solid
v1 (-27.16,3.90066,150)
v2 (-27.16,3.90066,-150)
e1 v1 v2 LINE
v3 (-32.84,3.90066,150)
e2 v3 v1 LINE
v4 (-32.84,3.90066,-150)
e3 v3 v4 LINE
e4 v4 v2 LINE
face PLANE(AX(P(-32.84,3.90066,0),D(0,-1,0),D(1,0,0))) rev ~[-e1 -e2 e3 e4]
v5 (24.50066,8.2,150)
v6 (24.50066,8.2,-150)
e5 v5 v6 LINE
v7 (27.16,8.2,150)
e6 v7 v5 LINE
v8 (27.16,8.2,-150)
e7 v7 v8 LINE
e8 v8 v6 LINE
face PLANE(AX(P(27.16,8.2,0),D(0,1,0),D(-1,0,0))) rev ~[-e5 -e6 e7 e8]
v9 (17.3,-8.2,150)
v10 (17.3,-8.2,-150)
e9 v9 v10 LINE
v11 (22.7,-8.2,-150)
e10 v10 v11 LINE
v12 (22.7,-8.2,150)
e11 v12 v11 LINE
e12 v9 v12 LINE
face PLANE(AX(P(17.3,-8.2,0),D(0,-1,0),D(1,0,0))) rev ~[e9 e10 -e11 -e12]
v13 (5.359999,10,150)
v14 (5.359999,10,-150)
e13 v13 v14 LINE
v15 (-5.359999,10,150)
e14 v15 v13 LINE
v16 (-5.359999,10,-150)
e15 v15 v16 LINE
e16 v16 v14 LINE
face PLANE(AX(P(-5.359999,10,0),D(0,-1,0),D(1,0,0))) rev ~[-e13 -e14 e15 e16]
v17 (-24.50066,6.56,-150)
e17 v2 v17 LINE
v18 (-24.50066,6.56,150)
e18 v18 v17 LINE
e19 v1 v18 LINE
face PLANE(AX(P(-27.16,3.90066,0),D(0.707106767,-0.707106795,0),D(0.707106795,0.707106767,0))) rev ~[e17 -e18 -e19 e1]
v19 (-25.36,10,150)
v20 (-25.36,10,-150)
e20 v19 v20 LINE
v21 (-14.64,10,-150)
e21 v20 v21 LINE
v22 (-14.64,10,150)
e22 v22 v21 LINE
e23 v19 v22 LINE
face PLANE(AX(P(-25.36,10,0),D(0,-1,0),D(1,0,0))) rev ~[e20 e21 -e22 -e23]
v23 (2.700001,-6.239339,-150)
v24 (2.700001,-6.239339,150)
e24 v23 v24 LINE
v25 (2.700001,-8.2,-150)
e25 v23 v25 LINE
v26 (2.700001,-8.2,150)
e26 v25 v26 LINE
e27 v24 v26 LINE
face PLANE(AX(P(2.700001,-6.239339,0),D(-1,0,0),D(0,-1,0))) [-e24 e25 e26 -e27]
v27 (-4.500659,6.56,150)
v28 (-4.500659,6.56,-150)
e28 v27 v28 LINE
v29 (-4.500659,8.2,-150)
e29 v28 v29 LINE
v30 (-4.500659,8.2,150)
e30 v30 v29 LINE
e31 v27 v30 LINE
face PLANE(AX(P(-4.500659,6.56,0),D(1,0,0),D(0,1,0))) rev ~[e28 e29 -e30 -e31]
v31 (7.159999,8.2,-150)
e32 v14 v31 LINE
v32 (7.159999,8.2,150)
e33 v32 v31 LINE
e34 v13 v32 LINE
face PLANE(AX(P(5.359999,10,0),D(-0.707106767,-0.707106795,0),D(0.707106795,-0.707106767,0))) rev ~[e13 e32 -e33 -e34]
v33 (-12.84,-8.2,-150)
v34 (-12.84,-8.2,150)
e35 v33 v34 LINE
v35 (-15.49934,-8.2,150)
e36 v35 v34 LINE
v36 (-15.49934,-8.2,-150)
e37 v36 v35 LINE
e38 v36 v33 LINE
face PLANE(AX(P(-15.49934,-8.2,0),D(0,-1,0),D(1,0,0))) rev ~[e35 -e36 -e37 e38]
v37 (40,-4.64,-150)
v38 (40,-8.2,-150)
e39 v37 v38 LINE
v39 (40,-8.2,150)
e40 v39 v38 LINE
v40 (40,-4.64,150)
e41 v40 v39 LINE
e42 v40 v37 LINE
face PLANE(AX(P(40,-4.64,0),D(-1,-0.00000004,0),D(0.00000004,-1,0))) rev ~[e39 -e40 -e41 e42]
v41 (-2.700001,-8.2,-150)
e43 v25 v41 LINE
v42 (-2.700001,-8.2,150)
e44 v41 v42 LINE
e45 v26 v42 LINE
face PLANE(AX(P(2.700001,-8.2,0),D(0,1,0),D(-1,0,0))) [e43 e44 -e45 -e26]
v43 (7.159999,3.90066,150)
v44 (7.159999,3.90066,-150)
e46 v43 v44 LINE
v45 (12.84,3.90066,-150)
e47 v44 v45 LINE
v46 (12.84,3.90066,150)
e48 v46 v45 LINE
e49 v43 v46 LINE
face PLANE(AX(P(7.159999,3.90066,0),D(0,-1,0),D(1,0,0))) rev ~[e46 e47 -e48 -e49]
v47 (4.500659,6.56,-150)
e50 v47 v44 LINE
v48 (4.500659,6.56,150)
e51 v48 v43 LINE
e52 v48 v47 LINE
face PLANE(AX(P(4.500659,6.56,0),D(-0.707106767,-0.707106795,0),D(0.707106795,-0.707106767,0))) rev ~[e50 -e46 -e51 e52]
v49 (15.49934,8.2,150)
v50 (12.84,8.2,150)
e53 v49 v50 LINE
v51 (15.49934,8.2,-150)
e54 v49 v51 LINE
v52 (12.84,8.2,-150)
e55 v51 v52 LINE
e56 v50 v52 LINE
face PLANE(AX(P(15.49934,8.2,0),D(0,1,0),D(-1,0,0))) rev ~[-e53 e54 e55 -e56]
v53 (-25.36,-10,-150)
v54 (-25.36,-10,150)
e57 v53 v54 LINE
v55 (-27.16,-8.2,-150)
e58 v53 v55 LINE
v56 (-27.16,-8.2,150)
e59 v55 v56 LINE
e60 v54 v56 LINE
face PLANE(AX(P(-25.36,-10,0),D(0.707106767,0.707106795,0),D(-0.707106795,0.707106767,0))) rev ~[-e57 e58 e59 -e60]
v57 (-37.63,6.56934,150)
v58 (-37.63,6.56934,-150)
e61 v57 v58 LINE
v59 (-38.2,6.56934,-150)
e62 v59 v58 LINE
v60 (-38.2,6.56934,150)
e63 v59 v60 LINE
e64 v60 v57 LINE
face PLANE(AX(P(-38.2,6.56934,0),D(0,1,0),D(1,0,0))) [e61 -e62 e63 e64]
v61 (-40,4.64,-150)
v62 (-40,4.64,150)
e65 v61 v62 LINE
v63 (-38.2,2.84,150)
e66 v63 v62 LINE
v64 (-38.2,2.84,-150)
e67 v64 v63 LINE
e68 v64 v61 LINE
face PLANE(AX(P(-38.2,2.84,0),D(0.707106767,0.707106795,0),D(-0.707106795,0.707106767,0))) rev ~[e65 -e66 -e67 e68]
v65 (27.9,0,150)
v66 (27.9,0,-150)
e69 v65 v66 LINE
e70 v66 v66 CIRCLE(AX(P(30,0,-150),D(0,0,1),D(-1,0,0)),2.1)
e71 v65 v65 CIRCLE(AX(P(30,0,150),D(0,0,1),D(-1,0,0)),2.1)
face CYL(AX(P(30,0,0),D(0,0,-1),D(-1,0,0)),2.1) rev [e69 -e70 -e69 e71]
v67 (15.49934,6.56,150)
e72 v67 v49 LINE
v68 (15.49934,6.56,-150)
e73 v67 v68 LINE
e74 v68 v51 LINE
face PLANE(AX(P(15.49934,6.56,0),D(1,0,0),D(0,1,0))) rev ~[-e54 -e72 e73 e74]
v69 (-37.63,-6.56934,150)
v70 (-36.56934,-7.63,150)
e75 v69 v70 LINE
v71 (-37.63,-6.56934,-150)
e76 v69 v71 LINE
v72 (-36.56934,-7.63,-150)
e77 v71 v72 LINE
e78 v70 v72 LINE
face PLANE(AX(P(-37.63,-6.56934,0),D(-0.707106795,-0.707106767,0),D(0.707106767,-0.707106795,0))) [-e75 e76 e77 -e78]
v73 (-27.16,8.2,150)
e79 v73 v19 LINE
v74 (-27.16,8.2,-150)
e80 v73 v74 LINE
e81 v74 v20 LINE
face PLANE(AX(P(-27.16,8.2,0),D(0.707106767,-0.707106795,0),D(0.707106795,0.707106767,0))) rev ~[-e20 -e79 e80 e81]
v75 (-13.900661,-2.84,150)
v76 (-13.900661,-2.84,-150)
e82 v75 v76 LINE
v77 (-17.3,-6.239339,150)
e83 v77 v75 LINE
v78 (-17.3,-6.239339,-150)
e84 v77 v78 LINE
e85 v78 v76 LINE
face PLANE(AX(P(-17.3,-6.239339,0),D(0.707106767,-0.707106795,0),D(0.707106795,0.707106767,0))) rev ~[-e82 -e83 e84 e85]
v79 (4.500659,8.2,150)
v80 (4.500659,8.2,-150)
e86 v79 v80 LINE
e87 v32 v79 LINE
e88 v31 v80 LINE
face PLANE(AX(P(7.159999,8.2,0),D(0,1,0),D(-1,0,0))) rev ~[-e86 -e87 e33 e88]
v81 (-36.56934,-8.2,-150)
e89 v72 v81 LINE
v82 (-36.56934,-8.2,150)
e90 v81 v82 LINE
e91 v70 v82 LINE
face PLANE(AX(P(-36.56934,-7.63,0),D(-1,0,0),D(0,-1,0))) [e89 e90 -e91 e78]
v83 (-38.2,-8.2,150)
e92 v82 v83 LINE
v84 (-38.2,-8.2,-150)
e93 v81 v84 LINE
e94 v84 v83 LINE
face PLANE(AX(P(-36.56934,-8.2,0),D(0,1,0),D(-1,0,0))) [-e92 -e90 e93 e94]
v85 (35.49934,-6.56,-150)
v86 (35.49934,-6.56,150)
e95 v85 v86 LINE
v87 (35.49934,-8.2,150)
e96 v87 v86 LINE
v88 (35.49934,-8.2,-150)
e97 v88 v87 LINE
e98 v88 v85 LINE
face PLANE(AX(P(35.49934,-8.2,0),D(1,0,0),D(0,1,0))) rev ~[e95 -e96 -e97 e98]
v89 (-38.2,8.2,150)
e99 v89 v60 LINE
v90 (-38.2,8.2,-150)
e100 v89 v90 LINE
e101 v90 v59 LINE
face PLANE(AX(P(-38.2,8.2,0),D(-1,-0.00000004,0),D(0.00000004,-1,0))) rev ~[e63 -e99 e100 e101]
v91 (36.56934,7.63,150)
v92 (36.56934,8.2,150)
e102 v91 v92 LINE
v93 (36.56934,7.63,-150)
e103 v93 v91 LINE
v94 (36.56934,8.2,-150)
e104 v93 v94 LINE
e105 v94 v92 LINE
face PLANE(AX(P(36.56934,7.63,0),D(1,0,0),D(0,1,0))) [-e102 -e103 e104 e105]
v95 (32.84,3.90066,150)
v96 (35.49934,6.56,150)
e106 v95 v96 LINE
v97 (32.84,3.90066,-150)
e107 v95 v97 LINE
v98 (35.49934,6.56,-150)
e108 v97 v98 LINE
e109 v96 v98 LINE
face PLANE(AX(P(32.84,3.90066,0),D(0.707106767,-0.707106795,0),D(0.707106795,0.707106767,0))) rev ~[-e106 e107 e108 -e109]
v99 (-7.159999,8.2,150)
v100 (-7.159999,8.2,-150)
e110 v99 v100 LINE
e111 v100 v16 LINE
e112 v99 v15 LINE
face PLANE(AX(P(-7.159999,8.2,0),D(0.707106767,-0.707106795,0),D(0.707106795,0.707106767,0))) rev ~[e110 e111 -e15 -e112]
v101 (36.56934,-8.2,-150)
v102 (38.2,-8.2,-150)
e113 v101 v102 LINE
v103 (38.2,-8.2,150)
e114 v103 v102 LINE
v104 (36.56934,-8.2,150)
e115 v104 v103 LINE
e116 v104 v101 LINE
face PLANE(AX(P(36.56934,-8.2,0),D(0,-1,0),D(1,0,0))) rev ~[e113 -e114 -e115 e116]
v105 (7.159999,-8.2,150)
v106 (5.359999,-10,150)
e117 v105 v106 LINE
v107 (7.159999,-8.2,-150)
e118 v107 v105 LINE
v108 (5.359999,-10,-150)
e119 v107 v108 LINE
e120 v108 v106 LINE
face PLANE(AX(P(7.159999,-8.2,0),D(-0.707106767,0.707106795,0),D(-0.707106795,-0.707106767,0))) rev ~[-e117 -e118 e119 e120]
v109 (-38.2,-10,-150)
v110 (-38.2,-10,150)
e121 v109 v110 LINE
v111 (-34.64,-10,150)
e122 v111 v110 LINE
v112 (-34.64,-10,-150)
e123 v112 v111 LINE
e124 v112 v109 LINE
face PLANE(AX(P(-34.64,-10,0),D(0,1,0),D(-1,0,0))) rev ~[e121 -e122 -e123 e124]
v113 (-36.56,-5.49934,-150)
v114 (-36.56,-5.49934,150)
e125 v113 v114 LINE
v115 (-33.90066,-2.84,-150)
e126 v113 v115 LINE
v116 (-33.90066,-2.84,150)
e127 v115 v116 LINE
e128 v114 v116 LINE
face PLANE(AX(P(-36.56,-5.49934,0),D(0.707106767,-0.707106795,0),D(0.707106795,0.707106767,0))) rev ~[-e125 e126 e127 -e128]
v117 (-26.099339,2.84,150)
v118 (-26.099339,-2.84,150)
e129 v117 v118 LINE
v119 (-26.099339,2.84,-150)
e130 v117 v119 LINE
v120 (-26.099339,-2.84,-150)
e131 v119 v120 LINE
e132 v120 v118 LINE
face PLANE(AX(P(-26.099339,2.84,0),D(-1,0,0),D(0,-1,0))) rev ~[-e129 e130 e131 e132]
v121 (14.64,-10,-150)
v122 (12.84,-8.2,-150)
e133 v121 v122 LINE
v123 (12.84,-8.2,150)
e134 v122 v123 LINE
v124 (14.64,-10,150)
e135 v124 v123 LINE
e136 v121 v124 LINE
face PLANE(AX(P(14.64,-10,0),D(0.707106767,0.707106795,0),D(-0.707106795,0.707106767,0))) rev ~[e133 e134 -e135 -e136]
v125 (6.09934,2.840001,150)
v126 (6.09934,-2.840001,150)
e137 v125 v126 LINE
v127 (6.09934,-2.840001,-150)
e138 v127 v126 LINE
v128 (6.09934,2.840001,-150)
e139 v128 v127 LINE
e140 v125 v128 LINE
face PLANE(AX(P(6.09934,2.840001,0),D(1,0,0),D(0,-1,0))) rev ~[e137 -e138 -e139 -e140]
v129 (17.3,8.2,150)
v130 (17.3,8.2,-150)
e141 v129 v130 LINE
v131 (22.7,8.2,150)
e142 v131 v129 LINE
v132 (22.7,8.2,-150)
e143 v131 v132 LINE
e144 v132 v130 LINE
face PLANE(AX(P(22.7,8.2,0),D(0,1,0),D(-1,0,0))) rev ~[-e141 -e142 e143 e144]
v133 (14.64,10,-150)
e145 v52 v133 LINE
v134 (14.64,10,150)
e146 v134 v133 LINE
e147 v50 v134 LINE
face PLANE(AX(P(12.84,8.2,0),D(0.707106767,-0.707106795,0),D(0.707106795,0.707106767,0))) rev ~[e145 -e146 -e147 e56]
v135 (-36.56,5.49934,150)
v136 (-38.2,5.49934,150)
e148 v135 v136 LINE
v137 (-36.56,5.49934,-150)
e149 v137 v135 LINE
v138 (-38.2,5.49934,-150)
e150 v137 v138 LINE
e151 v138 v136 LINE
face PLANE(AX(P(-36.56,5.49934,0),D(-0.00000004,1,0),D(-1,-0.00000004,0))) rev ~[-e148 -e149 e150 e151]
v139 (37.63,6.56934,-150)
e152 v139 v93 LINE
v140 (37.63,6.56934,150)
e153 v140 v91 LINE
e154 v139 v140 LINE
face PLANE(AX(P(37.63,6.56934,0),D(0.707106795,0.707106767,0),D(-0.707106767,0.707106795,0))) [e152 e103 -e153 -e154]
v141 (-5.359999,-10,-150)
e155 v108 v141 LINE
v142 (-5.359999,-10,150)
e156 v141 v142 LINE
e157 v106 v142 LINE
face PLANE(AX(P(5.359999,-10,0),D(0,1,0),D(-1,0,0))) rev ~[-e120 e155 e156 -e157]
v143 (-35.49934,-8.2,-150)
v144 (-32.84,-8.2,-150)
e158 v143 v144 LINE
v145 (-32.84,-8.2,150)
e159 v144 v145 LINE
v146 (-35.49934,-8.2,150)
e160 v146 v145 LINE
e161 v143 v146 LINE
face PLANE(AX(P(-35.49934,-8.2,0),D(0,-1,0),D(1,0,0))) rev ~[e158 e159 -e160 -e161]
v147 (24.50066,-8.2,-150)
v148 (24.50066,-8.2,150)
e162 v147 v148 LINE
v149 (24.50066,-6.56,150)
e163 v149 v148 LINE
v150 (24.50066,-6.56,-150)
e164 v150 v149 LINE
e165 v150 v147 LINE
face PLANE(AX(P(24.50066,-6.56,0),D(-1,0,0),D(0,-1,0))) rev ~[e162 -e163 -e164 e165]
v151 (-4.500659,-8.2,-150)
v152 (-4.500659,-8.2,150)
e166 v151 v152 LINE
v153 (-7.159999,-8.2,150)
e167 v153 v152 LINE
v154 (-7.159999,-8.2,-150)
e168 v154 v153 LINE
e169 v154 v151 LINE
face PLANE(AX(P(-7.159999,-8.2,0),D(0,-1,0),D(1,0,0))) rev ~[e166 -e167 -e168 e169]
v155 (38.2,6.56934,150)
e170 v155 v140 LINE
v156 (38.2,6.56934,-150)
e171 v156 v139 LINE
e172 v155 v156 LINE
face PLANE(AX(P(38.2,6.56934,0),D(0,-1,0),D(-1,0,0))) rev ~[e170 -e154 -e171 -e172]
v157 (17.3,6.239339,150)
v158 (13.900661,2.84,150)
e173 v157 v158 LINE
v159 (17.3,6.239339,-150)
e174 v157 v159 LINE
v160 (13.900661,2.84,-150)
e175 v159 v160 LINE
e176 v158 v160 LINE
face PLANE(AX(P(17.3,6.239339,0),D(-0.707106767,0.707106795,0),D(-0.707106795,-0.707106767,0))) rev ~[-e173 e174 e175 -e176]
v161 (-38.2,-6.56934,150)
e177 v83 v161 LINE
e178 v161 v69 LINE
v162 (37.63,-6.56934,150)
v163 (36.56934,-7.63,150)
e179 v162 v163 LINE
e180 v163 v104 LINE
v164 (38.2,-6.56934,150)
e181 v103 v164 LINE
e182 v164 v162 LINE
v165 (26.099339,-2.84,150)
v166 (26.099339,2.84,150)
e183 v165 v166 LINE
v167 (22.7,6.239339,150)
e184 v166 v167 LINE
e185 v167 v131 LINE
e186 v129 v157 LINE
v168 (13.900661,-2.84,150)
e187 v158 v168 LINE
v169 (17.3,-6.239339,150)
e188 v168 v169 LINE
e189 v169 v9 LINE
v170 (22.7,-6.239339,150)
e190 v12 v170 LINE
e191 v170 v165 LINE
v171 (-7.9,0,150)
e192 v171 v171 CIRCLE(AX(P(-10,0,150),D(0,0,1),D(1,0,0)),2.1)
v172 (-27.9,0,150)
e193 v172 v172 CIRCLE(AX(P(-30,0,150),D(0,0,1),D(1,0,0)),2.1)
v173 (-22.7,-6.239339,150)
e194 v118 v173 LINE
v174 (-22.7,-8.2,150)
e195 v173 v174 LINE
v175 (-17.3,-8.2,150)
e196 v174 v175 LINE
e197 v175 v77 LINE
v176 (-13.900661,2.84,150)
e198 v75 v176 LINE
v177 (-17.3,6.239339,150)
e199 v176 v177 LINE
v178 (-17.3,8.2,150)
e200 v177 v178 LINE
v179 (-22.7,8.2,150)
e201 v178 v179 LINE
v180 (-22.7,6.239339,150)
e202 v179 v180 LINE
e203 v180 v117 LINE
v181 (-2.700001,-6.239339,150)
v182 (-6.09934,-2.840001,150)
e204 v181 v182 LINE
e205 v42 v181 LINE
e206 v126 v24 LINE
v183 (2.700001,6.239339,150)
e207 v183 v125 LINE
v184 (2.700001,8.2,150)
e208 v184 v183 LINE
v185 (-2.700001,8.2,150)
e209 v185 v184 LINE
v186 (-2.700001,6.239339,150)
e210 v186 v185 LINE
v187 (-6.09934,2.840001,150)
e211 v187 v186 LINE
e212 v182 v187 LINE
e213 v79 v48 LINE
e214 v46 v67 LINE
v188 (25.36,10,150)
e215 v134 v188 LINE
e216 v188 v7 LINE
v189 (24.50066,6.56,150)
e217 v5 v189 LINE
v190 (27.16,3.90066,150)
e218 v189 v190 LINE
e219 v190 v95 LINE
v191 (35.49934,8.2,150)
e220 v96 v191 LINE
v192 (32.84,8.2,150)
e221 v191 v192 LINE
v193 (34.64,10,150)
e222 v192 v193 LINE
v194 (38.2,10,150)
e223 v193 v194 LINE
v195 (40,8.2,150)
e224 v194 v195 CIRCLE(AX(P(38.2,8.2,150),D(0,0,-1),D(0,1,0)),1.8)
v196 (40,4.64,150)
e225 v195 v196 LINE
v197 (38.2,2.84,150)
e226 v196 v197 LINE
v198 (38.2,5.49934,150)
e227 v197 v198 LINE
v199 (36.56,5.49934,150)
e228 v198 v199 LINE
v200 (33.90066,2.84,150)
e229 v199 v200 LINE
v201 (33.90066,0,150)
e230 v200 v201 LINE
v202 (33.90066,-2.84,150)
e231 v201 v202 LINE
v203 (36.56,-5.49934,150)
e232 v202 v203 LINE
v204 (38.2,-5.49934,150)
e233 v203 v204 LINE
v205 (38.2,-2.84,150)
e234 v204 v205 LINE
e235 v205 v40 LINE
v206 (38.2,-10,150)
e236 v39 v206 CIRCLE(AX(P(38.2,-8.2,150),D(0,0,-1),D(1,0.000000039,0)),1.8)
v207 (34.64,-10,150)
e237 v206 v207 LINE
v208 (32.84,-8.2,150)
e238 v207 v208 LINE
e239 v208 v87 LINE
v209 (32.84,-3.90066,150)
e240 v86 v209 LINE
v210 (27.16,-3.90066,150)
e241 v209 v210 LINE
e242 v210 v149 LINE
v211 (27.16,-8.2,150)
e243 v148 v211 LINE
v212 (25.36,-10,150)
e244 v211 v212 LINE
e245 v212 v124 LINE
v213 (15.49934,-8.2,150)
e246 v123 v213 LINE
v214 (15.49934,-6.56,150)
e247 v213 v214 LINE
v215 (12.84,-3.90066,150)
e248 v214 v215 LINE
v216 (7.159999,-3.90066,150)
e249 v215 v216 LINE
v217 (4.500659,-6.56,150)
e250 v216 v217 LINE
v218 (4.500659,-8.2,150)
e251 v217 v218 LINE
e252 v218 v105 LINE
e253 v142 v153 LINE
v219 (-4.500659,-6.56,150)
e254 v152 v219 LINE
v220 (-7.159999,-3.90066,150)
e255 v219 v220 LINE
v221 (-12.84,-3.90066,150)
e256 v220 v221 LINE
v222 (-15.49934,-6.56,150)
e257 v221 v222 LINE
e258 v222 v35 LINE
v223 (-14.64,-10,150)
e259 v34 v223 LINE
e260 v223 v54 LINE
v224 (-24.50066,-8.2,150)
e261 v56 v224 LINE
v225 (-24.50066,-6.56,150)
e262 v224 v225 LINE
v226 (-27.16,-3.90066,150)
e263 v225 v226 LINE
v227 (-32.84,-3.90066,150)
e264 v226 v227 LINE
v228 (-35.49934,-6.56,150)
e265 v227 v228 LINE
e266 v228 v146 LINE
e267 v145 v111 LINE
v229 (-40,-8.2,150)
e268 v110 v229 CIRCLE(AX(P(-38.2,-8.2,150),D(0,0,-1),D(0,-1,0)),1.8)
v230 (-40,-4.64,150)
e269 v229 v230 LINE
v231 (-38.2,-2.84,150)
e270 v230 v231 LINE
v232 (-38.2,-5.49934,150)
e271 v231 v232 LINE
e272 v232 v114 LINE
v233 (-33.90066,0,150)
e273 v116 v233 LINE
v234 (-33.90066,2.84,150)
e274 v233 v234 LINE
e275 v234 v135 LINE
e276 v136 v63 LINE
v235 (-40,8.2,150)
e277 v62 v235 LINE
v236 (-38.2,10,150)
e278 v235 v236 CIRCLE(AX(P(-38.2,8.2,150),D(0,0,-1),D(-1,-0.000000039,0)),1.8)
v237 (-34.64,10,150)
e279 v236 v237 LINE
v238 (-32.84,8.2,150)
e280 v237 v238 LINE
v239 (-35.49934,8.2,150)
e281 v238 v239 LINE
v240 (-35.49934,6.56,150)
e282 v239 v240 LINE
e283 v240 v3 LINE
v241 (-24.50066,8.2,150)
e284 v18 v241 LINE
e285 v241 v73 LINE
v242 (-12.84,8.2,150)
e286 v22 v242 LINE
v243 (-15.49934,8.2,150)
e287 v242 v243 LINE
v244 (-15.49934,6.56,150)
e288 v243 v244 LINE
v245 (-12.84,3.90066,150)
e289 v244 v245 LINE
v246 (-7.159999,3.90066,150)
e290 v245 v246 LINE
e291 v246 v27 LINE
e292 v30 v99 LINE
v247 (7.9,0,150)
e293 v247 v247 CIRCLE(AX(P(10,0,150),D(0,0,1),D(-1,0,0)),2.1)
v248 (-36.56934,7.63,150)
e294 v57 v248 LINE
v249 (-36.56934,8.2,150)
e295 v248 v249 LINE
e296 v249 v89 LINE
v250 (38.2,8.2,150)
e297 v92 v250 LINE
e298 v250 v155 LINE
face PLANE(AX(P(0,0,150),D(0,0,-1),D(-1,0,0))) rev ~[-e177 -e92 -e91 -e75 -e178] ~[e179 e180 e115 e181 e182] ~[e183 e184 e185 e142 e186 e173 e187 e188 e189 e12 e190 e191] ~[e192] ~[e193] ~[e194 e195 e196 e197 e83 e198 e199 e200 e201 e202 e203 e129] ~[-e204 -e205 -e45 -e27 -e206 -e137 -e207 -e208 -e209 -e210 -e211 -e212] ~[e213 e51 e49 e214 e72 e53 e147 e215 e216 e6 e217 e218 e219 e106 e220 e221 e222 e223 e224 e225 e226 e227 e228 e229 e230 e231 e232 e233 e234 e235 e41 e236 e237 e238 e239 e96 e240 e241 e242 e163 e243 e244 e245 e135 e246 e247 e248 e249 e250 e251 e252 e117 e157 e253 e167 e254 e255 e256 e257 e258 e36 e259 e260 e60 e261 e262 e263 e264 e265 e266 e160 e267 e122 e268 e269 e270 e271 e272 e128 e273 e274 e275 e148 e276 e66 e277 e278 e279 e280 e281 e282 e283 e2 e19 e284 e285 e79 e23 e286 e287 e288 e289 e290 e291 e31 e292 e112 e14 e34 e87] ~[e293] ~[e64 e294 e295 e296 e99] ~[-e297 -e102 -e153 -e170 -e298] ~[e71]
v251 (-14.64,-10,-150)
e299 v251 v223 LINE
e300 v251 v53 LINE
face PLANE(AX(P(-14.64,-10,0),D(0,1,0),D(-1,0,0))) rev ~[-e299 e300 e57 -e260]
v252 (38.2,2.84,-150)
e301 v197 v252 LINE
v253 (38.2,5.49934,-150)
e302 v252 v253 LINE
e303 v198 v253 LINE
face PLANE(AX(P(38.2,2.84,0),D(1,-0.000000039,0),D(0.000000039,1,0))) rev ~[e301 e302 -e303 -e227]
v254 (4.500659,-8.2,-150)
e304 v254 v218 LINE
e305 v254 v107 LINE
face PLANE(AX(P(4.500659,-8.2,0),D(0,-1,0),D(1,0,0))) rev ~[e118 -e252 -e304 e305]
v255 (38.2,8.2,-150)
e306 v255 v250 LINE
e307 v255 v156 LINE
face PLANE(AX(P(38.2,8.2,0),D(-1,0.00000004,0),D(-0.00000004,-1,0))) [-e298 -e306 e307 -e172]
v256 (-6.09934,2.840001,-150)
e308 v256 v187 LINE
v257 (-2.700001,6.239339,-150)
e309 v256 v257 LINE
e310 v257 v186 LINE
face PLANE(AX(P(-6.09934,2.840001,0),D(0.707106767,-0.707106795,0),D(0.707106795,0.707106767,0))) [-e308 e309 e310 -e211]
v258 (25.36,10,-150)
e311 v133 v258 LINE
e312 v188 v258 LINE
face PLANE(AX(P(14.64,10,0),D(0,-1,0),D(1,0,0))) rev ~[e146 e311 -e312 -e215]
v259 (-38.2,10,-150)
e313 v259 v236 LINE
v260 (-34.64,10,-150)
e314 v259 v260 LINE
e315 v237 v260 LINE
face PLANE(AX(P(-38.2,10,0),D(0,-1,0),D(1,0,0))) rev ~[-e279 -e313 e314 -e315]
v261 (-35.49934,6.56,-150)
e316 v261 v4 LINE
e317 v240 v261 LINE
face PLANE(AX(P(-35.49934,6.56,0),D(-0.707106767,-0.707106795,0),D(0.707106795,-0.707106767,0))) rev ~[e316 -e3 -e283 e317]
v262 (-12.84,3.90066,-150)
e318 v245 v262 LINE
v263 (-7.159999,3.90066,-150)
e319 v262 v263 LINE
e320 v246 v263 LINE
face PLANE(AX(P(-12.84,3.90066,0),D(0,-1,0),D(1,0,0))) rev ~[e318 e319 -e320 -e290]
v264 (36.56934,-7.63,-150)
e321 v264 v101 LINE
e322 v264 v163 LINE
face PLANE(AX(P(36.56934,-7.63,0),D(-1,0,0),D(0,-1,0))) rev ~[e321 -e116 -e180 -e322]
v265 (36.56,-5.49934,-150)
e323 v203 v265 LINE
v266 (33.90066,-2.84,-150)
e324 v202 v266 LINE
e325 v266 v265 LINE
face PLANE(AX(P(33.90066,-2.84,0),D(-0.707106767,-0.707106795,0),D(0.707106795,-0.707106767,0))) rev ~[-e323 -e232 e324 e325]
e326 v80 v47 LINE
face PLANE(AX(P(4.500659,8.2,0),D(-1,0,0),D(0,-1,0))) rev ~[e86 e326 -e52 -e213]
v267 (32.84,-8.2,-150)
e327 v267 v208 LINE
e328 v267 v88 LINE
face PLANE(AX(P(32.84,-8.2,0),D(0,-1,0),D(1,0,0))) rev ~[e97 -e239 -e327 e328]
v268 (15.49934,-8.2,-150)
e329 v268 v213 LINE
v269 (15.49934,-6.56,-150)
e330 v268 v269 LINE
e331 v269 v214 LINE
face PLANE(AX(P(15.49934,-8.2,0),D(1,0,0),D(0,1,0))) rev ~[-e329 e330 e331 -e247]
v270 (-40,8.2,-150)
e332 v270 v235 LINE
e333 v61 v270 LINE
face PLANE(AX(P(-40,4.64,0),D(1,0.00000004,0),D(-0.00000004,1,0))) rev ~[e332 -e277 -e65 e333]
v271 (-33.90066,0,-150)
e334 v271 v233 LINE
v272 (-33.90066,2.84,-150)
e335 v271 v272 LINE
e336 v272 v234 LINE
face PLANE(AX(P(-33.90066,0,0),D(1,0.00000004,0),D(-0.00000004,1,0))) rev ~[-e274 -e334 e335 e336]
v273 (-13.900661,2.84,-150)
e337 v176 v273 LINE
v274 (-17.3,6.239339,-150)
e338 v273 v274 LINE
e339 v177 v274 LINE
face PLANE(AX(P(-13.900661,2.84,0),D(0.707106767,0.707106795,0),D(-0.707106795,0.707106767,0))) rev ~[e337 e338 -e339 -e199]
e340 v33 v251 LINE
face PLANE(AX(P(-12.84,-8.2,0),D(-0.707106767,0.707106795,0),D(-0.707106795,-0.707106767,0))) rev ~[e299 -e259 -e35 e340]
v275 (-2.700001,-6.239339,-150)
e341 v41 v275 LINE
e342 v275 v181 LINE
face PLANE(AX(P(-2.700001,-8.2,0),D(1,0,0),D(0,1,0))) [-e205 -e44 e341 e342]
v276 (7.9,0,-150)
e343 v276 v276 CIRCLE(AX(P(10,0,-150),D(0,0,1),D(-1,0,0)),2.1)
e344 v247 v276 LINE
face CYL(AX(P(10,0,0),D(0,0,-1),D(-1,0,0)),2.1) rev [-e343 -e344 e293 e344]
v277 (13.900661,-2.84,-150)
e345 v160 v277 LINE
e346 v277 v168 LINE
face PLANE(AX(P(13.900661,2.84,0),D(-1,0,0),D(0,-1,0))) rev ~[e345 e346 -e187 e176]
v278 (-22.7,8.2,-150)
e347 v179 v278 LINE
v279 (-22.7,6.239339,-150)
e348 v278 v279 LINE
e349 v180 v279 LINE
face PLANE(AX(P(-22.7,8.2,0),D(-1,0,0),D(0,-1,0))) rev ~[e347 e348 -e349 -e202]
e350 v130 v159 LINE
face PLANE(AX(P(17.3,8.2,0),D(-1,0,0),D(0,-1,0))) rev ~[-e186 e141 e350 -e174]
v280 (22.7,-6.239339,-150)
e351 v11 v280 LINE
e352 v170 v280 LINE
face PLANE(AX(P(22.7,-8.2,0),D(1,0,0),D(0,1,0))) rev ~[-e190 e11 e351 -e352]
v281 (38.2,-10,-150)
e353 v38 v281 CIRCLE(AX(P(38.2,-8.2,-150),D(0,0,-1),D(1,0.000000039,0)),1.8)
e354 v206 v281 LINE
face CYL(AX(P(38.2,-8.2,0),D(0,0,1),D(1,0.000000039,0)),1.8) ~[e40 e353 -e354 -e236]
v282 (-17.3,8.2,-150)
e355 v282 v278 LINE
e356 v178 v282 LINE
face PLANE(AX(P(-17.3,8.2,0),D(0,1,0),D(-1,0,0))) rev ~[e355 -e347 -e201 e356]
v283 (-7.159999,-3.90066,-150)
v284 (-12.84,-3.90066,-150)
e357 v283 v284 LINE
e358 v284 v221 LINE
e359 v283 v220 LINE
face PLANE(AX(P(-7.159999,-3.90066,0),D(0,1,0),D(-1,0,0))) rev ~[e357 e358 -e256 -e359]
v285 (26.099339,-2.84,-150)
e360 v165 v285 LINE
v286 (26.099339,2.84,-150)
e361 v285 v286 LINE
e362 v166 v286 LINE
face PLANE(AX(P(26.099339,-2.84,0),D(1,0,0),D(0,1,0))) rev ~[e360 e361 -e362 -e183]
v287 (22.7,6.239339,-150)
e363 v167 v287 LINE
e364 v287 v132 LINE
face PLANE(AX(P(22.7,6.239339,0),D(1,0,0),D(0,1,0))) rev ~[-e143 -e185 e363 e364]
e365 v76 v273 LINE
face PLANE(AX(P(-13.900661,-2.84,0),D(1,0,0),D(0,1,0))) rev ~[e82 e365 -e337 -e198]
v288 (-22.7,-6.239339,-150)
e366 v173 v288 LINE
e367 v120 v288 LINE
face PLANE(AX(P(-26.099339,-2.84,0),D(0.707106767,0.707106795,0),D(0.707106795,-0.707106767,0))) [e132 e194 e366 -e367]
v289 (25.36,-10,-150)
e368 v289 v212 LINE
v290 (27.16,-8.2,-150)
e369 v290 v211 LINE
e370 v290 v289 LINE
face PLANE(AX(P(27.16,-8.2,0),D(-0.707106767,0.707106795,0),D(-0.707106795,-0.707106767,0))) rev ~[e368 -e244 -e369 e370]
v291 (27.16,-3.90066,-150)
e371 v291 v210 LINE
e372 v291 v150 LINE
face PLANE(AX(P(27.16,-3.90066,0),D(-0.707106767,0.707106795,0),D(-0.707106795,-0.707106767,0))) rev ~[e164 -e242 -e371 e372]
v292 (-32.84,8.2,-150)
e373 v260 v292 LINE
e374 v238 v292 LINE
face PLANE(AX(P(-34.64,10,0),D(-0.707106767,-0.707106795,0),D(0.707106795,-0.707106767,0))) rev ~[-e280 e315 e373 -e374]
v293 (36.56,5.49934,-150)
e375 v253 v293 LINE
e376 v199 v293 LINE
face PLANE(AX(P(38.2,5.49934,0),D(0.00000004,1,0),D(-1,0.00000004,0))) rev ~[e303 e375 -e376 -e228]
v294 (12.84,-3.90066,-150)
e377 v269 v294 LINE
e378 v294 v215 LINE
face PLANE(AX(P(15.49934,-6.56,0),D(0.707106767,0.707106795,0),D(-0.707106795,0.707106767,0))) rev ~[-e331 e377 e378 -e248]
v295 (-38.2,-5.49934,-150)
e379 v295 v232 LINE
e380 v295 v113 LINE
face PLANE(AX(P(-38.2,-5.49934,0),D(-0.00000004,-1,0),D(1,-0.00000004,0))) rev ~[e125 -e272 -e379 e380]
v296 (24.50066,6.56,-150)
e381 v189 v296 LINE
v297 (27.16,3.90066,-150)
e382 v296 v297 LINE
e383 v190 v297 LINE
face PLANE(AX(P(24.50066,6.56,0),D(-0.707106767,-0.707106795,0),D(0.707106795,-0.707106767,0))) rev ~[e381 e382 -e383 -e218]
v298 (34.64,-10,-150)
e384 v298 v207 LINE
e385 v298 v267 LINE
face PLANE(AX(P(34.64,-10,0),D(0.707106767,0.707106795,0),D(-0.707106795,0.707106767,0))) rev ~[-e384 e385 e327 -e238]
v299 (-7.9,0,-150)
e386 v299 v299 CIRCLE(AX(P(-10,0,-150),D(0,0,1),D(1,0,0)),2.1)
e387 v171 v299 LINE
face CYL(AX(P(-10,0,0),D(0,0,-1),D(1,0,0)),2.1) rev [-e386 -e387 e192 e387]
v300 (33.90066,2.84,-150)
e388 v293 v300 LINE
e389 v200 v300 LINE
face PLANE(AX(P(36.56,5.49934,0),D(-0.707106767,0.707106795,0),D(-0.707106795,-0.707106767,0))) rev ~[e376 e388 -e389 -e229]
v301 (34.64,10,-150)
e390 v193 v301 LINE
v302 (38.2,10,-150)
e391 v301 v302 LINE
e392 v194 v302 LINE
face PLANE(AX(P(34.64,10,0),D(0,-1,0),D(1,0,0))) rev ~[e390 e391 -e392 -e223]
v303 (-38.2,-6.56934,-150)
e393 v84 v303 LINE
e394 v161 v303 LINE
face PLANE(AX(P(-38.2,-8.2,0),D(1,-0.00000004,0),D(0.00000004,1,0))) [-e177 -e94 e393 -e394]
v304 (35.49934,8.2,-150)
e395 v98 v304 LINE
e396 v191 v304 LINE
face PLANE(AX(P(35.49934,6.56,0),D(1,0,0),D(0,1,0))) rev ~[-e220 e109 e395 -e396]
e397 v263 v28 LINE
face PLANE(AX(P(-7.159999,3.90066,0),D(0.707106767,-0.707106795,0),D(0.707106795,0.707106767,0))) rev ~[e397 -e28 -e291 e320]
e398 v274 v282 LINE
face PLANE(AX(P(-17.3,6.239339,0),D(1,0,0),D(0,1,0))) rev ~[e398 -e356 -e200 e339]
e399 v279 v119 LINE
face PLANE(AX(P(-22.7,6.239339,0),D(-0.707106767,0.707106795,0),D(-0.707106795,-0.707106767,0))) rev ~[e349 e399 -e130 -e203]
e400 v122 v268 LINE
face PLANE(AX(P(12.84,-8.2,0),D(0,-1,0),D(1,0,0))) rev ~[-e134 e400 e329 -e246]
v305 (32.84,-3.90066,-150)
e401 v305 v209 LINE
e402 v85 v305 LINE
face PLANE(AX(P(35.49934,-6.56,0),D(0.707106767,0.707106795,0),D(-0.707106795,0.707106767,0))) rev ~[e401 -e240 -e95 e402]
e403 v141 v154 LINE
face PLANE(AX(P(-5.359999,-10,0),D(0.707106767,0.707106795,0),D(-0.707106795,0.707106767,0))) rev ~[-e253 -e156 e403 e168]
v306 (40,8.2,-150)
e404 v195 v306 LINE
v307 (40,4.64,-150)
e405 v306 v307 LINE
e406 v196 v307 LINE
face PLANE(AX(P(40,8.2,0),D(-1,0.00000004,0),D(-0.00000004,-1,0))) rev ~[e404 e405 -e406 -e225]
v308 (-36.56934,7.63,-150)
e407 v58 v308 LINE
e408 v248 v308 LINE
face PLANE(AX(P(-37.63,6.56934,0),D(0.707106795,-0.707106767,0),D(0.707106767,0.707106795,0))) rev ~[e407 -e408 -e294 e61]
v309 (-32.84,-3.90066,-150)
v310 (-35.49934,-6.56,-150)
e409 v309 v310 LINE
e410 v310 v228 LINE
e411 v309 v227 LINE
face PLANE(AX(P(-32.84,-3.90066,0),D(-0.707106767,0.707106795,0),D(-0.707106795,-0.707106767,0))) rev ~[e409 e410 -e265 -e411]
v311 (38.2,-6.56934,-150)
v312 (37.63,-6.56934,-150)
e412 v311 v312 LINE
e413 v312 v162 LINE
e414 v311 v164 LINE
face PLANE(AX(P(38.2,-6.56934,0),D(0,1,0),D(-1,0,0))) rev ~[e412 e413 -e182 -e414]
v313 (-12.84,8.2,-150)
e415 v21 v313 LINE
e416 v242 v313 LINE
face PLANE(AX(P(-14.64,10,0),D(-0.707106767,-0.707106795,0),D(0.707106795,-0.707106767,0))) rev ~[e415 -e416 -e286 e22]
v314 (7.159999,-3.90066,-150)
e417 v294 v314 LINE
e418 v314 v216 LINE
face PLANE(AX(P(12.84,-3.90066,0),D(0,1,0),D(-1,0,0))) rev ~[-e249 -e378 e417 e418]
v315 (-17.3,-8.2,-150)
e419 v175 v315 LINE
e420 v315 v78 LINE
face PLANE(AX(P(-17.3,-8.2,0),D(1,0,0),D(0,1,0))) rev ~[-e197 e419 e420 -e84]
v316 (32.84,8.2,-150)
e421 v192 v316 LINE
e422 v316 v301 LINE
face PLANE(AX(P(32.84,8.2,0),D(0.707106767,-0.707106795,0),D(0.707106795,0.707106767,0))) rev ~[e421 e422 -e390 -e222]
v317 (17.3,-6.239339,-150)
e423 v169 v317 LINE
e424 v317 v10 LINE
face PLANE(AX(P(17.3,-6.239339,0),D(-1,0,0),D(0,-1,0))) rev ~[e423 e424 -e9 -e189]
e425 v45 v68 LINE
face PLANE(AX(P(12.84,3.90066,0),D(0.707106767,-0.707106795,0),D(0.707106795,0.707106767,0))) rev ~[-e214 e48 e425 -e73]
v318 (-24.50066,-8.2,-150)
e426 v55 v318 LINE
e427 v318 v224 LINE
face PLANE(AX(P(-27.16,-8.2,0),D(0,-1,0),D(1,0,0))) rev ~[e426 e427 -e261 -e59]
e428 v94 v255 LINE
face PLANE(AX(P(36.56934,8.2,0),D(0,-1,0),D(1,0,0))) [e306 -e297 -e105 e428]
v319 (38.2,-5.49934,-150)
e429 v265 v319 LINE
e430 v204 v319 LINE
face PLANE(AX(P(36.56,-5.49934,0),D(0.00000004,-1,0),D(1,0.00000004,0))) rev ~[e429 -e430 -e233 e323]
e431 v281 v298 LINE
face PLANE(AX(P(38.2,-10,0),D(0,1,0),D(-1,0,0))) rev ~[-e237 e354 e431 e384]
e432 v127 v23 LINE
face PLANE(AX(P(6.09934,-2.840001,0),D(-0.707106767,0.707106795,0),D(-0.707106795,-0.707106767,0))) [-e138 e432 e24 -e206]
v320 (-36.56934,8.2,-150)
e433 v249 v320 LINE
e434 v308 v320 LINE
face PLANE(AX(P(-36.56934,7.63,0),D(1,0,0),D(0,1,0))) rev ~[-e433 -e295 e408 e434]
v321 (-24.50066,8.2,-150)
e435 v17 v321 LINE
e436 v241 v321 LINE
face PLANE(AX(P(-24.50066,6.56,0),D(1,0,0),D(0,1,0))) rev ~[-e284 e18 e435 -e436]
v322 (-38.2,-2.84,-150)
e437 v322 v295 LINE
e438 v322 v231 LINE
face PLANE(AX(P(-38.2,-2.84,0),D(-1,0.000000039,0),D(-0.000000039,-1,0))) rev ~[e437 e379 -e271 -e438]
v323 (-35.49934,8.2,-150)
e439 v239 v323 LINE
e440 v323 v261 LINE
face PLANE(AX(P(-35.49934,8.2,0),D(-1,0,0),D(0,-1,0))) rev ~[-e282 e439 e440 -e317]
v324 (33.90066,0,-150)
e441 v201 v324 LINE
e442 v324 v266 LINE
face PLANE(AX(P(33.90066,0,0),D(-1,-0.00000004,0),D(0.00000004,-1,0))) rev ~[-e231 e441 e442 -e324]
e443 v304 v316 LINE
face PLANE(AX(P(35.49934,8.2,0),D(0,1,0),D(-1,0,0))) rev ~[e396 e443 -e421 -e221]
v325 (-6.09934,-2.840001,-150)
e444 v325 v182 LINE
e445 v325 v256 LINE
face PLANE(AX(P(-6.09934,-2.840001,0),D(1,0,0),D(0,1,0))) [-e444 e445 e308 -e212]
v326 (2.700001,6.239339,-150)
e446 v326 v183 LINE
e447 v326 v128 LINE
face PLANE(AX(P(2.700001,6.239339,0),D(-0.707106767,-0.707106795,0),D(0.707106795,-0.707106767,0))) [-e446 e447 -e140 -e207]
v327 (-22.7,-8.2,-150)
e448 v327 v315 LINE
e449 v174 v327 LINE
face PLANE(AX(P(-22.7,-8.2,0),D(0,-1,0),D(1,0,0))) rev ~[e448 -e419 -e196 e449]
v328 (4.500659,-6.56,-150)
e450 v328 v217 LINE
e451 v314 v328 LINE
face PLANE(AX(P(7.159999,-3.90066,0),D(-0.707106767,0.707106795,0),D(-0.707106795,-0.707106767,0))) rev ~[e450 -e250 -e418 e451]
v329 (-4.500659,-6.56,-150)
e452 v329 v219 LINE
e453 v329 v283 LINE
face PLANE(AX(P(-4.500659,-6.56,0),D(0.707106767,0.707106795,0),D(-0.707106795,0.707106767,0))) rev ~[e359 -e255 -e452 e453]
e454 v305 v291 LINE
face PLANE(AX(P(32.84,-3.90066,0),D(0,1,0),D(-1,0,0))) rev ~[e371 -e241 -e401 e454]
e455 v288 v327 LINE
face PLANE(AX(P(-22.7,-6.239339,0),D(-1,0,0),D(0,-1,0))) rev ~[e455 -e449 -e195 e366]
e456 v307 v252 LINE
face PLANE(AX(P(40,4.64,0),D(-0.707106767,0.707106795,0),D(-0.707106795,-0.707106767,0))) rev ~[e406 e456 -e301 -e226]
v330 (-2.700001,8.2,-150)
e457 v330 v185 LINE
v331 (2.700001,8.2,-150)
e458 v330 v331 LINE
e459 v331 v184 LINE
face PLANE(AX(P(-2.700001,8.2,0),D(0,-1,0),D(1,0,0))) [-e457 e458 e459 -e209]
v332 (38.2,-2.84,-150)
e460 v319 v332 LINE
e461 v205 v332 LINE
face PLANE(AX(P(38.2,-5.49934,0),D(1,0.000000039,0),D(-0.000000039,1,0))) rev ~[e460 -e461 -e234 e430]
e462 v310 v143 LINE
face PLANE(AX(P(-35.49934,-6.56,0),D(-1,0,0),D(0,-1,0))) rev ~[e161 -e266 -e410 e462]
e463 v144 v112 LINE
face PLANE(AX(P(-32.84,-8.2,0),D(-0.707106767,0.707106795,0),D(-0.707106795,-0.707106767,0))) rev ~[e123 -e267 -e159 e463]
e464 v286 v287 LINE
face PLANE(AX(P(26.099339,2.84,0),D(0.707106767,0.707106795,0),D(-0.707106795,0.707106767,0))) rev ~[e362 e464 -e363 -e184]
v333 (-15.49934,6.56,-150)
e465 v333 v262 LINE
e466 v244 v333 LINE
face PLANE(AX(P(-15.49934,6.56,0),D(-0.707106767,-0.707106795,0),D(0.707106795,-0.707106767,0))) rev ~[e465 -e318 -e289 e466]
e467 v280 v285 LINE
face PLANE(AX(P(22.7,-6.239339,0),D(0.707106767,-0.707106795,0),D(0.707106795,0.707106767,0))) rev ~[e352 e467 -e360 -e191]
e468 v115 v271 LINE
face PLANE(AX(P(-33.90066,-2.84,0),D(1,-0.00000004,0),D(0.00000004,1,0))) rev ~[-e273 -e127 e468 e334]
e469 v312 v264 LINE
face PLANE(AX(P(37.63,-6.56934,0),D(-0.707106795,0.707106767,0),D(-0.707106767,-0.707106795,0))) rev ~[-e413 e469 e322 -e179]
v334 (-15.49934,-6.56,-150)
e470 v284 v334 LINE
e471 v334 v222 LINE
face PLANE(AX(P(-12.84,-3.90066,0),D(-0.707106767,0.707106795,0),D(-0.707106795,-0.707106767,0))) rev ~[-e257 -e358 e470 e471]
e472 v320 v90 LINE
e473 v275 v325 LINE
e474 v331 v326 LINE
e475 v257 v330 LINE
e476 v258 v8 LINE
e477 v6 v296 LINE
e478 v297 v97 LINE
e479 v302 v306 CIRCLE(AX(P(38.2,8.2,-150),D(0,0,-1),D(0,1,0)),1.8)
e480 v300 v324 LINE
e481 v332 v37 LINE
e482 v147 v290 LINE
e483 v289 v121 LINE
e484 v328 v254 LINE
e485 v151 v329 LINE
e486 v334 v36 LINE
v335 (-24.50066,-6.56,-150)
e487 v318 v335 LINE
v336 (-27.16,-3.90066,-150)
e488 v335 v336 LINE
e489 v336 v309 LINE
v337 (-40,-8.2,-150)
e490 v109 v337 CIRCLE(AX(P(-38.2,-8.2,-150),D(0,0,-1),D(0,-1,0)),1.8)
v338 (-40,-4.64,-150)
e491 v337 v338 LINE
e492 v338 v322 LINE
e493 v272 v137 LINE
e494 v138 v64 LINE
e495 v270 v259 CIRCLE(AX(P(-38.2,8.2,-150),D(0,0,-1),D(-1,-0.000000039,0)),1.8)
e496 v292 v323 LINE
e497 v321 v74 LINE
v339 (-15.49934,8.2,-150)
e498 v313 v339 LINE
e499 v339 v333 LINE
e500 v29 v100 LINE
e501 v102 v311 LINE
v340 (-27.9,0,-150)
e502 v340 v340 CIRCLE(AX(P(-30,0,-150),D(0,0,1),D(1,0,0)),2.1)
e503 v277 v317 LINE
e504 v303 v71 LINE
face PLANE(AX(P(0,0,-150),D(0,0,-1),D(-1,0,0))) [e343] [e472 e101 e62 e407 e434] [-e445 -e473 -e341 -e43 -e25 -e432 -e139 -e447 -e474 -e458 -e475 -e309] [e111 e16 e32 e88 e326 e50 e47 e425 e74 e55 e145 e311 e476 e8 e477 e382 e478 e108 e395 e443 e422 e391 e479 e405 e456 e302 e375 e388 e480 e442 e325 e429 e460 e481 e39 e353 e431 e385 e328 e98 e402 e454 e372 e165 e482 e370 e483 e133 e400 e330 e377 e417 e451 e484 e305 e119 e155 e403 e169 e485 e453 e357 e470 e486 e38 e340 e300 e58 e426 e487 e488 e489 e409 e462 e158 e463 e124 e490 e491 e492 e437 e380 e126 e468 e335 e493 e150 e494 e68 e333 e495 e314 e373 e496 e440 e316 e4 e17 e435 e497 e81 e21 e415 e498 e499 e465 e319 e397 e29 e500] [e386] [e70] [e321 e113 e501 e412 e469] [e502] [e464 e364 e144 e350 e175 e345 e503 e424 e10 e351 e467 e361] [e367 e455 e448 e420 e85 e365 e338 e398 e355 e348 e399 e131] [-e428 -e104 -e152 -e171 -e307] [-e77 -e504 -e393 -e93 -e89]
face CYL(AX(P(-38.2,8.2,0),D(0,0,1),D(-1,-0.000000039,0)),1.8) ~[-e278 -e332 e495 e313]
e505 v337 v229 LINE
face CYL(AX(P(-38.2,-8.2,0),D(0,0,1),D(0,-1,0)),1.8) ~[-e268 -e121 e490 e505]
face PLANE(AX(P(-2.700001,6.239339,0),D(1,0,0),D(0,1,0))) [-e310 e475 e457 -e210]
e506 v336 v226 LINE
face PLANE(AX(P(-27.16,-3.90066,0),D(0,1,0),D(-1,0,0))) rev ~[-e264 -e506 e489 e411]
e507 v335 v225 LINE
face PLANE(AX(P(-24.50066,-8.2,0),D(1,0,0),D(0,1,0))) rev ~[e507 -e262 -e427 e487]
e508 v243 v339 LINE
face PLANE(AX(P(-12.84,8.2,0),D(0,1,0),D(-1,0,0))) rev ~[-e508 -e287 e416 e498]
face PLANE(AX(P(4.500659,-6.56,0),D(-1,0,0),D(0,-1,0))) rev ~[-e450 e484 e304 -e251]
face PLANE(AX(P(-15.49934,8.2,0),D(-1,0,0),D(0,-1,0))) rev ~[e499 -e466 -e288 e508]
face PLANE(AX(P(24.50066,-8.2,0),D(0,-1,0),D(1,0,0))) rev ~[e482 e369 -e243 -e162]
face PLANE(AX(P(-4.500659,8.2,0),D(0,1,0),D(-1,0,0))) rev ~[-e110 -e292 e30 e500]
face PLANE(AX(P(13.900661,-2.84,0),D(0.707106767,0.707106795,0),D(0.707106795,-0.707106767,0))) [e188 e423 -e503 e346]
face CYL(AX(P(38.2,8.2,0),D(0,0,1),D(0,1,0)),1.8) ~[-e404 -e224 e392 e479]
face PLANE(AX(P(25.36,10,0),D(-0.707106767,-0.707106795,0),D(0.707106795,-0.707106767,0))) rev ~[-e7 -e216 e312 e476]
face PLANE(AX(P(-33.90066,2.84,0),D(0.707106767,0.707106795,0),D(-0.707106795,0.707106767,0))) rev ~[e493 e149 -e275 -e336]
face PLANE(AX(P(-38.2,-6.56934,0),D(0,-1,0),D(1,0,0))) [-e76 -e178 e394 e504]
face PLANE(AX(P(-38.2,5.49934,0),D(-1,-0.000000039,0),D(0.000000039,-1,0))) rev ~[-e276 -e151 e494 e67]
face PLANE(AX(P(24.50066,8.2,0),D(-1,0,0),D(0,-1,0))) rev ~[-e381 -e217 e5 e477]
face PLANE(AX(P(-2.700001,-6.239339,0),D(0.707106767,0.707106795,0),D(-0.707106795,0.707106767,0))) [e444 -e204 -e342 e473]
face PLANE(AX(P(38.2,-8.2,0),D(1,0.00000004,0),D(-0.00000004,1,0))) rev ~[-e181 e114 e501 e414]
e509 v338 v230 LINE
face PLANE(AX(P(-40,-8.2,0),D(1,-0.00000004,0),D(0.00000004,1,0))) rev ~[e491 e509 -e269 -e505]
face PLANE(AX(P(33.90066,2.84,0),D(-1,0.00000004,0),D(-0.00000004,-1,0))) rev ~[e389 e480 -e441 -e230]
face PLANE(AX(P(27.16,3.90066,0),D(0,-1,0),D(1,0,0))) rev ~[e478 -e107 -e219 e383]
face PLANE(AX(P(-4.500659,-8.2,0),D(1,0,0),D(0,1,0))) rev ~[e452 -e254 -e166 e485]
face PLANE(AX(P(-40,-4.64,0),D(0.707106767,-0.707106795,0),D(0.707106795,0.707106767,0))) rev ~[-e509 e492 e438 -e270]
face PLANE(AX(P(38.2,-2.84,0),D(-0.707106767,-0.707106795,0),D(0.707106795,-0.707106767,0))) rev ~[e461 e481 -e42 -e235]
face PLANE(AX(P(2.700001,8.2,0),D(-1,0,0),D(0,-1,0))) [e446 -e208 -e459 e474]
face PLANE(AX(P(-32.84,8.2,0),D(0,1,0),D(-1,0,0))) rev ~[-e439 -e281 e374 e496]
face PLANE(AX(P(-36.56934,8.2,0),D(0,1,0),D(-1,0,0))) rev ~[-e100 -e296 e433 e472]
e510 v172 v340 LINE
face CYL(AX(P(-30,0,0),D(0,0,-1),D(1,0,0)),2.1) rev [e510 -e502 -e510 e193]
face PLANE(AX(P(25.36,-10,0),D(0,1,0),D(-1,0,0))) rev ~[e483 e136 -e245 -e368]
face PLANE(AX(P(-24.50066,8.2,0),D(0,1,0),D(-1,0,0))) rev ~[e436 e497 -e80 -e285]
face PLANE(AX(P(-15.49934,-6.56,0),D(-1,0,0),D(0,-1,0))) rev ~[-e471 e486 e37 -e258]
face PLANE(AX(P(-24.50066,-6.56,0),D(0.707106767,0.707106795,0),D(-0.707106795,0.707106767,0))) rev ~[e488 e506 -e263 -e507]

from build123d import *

# Parameters (mm, degrees)
ESQUISSE1_R        = 2.1
BOSS_EXTRU_1_DEPTH = 150


with BuildPart() as part:
    # Esquisse1 → Boss.-Extru.1 (new, symmetric)
    with BuildSketch(Plane.XY):
        with BuildLine():
            Line((-38.199999929, 10), (-34.639999675, 10))
            Line((-34.639999675, 10), (-32.839999603, 8.2))
            Line((-32.839999603, 8.2), (-35.499339671, 8.2))
            Line((-35.499339671, 8.2), (-35.499339671, 6.56))
            Line((-35.499339671, 6.56), (-32.839999603, 3.900660038))
            Line((-32.839999603, 3.900660038), (-27.159999603, 3.900660038))
            Line((-27.159999603, 3.900660038), (-24.500659536, 6.56))
            Line((-24.500659536, 6.56), (-24.500659536, 8.2))
            Line((-24.500659536, 8.2), (-27.159999603, 8.2))
            Line((-27.159999603, 8.2), (-25.359999532, 10))
            Line((-25.359999532, 10), (-14.640000468, 10))
            Line((-14.640000468, 10), (-12.840000397, 8.2))
            Line((-12.840000397, 8.2), (-15.499340464, 8.2))
            Line((-15.499340464, 8.2), (-15.499340464, 6.56))
            Line((-15.499340464, 6.56), (-12.840000397, 3.900660038))
            Line((-12.840000397, 3.900660038), (-7.159998809, 3.900660038))
            Line((-7.159998809, 3.900660038), (-4.500658742, 6.56))
            Line((-4.500658742, 6.56), (-4.500658742, 8.2))
            Line((-4.500658742, 8.2), (-7.159998809, 8.2))
            Line((-7.159998809, 8.2), (-5.359998738, 10))
            Line((-5.359998738, 10), (5.359998738, 10))
            Line((5.359998738, 10), (7.159998809, 8.2))
            Line((7.159998809, 8.2), (4.500658742, 8.2))
            Line((4.500658742, 8.2), (4.500658742, 6.56))
            Line((4.500658742, 6.56), (7.159998809, 3.900660038))
            Line((7.159998809, 3.900660038), (12.840000397, 3.900660038))
            Line((12.840000397, 3.900660038), (15.499340464, 6.56))
            Line((15.499340464, 6.56), (15.499340464, 8.2))
            Line((15.499340464, 8.2), (12.840000397, 8.2))
            Line((12.840000397, 8.2), (14.640000468, 10))
            Line((14.640000468, 10), (25.359999532, 10))
            Line((25.359999532, 10), (27.159999603, 8.2))
            Line((27.159999603, 8.2), (24.500659536, 8.2))
            Line((24.500659536, 8.2), (24.500659536, 6.56))
            Line((24.500659536, 6.56), (27.159999603, 3.900660038))
            Line((27.159999603, 3.900660038), (32.839999603, 3.900660038))
            Line((32.839999603, 3.900660038), (35.499339671, 6.56))
            Line((35.499339671, 6.56), (35.499339671, 8.2))
            Line((35.499339671, 8.2), (32.839999603, 8.2))
            Line((32.839999603, 8.2), (34.639999675, 10))
            Line((34.639999675, 10), (38.199999929, 10))
            ThreePointArc((38.199999929, 10), (39.47279216, 9.472792181), (39.999999929, 8.199999929))
            Line((39.999999929, 8.199999929), (39.999999787, 4.639999675))
            Line((39.999999787, 4.639999675), (38.199999716, 2.839999675))
            Line((38.199999716, 2.839999675), (38.199999821, 5.499339742))
            Line((38.199999821, 5.499339742), (36.559999821, 5.499339807))
            Line((36.559999821, 5.499339807), (33.900659754, 2.839999845))
            Line((33.900659754, 2.839999845), (33.900659641, 0))
            Line((33.900659641, 0), (33.900659754, -2.839999845))
            Line((33.900659754, -2.839999845), (36.559999821, -5.499339807))
            Line((36.559999821, -5.499339807), (38.199999821, -5.499339742))
            Line((38.199999821, -5.499339742), (38.199999716, -2.839999675))
            Line((38.199999716, -2.839999675), (39.999999787, -4.639999675))
            Line((39.999999787, -4.639999675), (39.999999929, -8.199999929))
            ThreePointArc((39.999999929, -8.199999929), (39.47279216, -9.472792181), (38.199999929, -10))
            Line((38.199999929, -10), (34.639999675, -10))
            Line((34.639999675, -10), (32.839999603, -8.2))
            Line((32.839999603, -8.2), (35.499339671, -8.2))
            Line((35.499339671, -8.2), (35.499339671, -6.56))
            Line((35.499339671, -6.56), (32.839999603, -3.900660038))
            Line((32.839999603, -3.900660038), (27.159999603, -3.900660038))
            Line((27.159999603, -3.900660038), (24.500659536, -6.56))
            Line((24.500659536, -6.56), (24.500659536, -8.2))
            Line((24.500659536, -8.2), (27.159999603, -8.2))
            Line((27.159999603, -8.2), (25.359999532, -10))
            Line((25.359999532, -10), (14.640000468, -10))
            Line((14.640000468, -10), (12.840000397, -8.2))
            Line((12.840000397, -8.2), (15.499340464, -8.2))
            Line((15.499340464, -8.2), (15.499340464, -6.56))
            Line((15.499340464, -6.56), (12.840000397, -3.900660038))
            Line((12.840000397, -3.900660038), (7.159998809, -3.900660038))
            Line((7.159998809, -3.900660038), (4.500658742, -6.56))
            Line((4.500658742, -6.56), (4.500658742, -8.2))
            Line((4.500658742, -8.2), (7.159998809, -8.2))
            Line((7.159998809, -8.2), (5.359998738, -10))
            Line((5.359998738, -10), (-5.359998738, -10))
            Line((-5.359998738, -10), (-7.159998809, -8.2))
            Line((-7.159998809, -8.2), (-4.500658742, -8.2))
            Line((-4.500658742, -8.2), (-4.500658742, -6.56))
            Line((-4.500658742, -6.56), (-7.159998809, -3.900660038))
            Line((-7.159998809, -3.900660038), (-12.840000397, -3.900660038))
            Line((-12.840000397, -3.900660038), (-15.499340464, -6.56))
            Line((-15.499340464, -6.56), (-15.499340464, -8.2))
            Line((-15.499340464, -8.2), (-12.840000397, -8.2))
            Line((-12.840000397, -8.2), (-14.640000468, -10))
            Line((-14.640000468, -10), (-25.359999532, -10))
            Line((-25.359999532, -10), (-27.159999603, -8.2))
            Line((-27.159999603, -8.2), (-24.500659536, -8.2))
            Line((-24.500659536, -8.2), (-24.500659536, -6.56))
            Line((-24.500659536, -6.56), (-27.159999603, -3.900660038))
            Line((-27.159999603, -3.900660038), (-32.839999603, -3.900660038))
            Line((-32.839999603, -3.900660038), (-35.499339671, -6.56))
            Line((-35.499339671, -6.56), (-35.499339671, -8.2))
            Line((-35.499339671, -8.2), (-32.839999603, -8.2))
            Line((-32.839999603, -8.2), (-34.639999675, -10))
            Line((-34.639999675, -10), (-38.199999929, -10))
            ThreePointArc((-38.199999929, -10), (-39.47279216, -9.472792181), (-39.999999929, -8.199999929))
            Line((-39.999999929, -8.199999929), (-39.999999787, -4.639999675))
            Line((-39.999999787, -4.639999675), (-38.199999716, -2.839999675))
            Line((-38.199999716, -2.839999675), (-38.199999821, -5.499339742))
            Line((-38.199999821, -5.499339742), (-36.559999821, -5.499339807))
            Line((-36.559999821, -5.499339807), (-33.900659754, -2.839999845))
            Line((-33.900659754, -2.839999845), (-33.900659641, 0))
            Line((-33.900659641, 0), (-33.900659754, 2.839999845))
            Line((-33.900659754, 2.839999845), (-36.559999821, 5.499339807))
            Line((-36.559999821, 5.499339807), (-38.199999821, 5.499339742))
            Line((-38.199999821, 5.499339742), (-38.199999716, 2.839999675))
            Line((-38.199999716, 2.839999675), (-39.999999787, 4.639999675))
            Line((-39.999999787, 4.639999675), (-39.999999929, 8.199999929))
            ThreePointArc((-39.999999929, 8.199999929), (-39.47279216, 9.472792181), (-38.199999929, 10))
        make_face()
        with Locations((-29.999999603, 0)):
            Circle(ESQUISSE1_R, mode=Mode.SUBTRACT)
        with Locations((-9.999999603, 0)):
            Circle(ESQUISSE1_R, mode=Mode.SUBTRACT)
        with Locations(Location((29.999999603, 0, 0), (0, 0, 180))):
            Circle(ESQUISSE1_R, mode=Mode.SUBTRACT)
        with Locations(Location((9.999999603, 0, 0), (0, 0, 180))):
            Circle(ESQUISSE1_R, mode=Mode.SUBTRACT)
        Polygon((-38.199999929, 8.2), (-38.199999864, 6.569339742), (-37.629999799, 6.569339742), (-36.569339648, 7.629999935), (-36.569339648, 8.2), align=None, mode=Mode.SUBTRACT)
        Polygon((-17.3, 6.239339079), (-17.3, 8.2), (-22.7, 8.2), (-22.7, 6.239339079), (-26.099339368, 2.839999845), (-26.099339368, -2.839999845), (-22.7, -6.239339079), (-22.7, -8.2), (-17.3, -8.2), (-17.3, -6.239339079), (-13.900660632, -2.839999845), (-13.900660632, 2.839999845), align=None, mode=Mode.SUBTRACT)
        Polygon((-6.099339678, -2.840000949), (-6.099339678, 2.840000949), (-2.700001413, 6.239339079), (-2.700001413, 8.2), (2.700001413, 8.2), (2.700001413, 6.239339079), (6.099339678, 2.840000949), (6.099339678, -2.840000949), (2.700001413, -6.239339079), (2.700001413, -8.2), (-2.700001413, -8.2), (-2.700001413, -6.239339079), align=None, mode=Mode.SUBTRACT)
        Polygon((-36.569339648, -7.629999935), (-36.569339648, -8.2), (-38.199999929, -8.2), (-38.199999864, -6.569339742), (-37.629999799, -6.569339742), align=None, mode=Mode.SUBTRACT)
        Polygon((36.569339648, 8.2), (38.199999929, 8.2), (38.199999864, 6.569339742), (37.629999799, 6.569339742), (36.569339648, 7.629999935), align=None, mode=Mode.SUBTRACT)
        Polygon((36.569339648, -8.2), (38.199999929, -8.2), (38.199999864, -6.569339742), (37.629999799, -6.569339742), (36.569339648, -7.629999935), align=None, mode=Mode.SUBTRACT)
        Polygon((13.900660632, -2.839999845), (17.3, -6.239339079), (17.3, -8.2), (22.7, -8.2), (22.7, -6.239339079), (26.099339368, -2.839999845), (26.099339368, 2.839999845), (22.7, 6.239339079), (22.7, 8.2), (17.3, 8.2), (17.3, 6.239339079), (13.900660632, 2.839999845), align=None, mode=Mode.SUBTRACT)
    extrude(amount=BOSS_EXTRU_1_DEPTH, both=True)


solid = part.part
